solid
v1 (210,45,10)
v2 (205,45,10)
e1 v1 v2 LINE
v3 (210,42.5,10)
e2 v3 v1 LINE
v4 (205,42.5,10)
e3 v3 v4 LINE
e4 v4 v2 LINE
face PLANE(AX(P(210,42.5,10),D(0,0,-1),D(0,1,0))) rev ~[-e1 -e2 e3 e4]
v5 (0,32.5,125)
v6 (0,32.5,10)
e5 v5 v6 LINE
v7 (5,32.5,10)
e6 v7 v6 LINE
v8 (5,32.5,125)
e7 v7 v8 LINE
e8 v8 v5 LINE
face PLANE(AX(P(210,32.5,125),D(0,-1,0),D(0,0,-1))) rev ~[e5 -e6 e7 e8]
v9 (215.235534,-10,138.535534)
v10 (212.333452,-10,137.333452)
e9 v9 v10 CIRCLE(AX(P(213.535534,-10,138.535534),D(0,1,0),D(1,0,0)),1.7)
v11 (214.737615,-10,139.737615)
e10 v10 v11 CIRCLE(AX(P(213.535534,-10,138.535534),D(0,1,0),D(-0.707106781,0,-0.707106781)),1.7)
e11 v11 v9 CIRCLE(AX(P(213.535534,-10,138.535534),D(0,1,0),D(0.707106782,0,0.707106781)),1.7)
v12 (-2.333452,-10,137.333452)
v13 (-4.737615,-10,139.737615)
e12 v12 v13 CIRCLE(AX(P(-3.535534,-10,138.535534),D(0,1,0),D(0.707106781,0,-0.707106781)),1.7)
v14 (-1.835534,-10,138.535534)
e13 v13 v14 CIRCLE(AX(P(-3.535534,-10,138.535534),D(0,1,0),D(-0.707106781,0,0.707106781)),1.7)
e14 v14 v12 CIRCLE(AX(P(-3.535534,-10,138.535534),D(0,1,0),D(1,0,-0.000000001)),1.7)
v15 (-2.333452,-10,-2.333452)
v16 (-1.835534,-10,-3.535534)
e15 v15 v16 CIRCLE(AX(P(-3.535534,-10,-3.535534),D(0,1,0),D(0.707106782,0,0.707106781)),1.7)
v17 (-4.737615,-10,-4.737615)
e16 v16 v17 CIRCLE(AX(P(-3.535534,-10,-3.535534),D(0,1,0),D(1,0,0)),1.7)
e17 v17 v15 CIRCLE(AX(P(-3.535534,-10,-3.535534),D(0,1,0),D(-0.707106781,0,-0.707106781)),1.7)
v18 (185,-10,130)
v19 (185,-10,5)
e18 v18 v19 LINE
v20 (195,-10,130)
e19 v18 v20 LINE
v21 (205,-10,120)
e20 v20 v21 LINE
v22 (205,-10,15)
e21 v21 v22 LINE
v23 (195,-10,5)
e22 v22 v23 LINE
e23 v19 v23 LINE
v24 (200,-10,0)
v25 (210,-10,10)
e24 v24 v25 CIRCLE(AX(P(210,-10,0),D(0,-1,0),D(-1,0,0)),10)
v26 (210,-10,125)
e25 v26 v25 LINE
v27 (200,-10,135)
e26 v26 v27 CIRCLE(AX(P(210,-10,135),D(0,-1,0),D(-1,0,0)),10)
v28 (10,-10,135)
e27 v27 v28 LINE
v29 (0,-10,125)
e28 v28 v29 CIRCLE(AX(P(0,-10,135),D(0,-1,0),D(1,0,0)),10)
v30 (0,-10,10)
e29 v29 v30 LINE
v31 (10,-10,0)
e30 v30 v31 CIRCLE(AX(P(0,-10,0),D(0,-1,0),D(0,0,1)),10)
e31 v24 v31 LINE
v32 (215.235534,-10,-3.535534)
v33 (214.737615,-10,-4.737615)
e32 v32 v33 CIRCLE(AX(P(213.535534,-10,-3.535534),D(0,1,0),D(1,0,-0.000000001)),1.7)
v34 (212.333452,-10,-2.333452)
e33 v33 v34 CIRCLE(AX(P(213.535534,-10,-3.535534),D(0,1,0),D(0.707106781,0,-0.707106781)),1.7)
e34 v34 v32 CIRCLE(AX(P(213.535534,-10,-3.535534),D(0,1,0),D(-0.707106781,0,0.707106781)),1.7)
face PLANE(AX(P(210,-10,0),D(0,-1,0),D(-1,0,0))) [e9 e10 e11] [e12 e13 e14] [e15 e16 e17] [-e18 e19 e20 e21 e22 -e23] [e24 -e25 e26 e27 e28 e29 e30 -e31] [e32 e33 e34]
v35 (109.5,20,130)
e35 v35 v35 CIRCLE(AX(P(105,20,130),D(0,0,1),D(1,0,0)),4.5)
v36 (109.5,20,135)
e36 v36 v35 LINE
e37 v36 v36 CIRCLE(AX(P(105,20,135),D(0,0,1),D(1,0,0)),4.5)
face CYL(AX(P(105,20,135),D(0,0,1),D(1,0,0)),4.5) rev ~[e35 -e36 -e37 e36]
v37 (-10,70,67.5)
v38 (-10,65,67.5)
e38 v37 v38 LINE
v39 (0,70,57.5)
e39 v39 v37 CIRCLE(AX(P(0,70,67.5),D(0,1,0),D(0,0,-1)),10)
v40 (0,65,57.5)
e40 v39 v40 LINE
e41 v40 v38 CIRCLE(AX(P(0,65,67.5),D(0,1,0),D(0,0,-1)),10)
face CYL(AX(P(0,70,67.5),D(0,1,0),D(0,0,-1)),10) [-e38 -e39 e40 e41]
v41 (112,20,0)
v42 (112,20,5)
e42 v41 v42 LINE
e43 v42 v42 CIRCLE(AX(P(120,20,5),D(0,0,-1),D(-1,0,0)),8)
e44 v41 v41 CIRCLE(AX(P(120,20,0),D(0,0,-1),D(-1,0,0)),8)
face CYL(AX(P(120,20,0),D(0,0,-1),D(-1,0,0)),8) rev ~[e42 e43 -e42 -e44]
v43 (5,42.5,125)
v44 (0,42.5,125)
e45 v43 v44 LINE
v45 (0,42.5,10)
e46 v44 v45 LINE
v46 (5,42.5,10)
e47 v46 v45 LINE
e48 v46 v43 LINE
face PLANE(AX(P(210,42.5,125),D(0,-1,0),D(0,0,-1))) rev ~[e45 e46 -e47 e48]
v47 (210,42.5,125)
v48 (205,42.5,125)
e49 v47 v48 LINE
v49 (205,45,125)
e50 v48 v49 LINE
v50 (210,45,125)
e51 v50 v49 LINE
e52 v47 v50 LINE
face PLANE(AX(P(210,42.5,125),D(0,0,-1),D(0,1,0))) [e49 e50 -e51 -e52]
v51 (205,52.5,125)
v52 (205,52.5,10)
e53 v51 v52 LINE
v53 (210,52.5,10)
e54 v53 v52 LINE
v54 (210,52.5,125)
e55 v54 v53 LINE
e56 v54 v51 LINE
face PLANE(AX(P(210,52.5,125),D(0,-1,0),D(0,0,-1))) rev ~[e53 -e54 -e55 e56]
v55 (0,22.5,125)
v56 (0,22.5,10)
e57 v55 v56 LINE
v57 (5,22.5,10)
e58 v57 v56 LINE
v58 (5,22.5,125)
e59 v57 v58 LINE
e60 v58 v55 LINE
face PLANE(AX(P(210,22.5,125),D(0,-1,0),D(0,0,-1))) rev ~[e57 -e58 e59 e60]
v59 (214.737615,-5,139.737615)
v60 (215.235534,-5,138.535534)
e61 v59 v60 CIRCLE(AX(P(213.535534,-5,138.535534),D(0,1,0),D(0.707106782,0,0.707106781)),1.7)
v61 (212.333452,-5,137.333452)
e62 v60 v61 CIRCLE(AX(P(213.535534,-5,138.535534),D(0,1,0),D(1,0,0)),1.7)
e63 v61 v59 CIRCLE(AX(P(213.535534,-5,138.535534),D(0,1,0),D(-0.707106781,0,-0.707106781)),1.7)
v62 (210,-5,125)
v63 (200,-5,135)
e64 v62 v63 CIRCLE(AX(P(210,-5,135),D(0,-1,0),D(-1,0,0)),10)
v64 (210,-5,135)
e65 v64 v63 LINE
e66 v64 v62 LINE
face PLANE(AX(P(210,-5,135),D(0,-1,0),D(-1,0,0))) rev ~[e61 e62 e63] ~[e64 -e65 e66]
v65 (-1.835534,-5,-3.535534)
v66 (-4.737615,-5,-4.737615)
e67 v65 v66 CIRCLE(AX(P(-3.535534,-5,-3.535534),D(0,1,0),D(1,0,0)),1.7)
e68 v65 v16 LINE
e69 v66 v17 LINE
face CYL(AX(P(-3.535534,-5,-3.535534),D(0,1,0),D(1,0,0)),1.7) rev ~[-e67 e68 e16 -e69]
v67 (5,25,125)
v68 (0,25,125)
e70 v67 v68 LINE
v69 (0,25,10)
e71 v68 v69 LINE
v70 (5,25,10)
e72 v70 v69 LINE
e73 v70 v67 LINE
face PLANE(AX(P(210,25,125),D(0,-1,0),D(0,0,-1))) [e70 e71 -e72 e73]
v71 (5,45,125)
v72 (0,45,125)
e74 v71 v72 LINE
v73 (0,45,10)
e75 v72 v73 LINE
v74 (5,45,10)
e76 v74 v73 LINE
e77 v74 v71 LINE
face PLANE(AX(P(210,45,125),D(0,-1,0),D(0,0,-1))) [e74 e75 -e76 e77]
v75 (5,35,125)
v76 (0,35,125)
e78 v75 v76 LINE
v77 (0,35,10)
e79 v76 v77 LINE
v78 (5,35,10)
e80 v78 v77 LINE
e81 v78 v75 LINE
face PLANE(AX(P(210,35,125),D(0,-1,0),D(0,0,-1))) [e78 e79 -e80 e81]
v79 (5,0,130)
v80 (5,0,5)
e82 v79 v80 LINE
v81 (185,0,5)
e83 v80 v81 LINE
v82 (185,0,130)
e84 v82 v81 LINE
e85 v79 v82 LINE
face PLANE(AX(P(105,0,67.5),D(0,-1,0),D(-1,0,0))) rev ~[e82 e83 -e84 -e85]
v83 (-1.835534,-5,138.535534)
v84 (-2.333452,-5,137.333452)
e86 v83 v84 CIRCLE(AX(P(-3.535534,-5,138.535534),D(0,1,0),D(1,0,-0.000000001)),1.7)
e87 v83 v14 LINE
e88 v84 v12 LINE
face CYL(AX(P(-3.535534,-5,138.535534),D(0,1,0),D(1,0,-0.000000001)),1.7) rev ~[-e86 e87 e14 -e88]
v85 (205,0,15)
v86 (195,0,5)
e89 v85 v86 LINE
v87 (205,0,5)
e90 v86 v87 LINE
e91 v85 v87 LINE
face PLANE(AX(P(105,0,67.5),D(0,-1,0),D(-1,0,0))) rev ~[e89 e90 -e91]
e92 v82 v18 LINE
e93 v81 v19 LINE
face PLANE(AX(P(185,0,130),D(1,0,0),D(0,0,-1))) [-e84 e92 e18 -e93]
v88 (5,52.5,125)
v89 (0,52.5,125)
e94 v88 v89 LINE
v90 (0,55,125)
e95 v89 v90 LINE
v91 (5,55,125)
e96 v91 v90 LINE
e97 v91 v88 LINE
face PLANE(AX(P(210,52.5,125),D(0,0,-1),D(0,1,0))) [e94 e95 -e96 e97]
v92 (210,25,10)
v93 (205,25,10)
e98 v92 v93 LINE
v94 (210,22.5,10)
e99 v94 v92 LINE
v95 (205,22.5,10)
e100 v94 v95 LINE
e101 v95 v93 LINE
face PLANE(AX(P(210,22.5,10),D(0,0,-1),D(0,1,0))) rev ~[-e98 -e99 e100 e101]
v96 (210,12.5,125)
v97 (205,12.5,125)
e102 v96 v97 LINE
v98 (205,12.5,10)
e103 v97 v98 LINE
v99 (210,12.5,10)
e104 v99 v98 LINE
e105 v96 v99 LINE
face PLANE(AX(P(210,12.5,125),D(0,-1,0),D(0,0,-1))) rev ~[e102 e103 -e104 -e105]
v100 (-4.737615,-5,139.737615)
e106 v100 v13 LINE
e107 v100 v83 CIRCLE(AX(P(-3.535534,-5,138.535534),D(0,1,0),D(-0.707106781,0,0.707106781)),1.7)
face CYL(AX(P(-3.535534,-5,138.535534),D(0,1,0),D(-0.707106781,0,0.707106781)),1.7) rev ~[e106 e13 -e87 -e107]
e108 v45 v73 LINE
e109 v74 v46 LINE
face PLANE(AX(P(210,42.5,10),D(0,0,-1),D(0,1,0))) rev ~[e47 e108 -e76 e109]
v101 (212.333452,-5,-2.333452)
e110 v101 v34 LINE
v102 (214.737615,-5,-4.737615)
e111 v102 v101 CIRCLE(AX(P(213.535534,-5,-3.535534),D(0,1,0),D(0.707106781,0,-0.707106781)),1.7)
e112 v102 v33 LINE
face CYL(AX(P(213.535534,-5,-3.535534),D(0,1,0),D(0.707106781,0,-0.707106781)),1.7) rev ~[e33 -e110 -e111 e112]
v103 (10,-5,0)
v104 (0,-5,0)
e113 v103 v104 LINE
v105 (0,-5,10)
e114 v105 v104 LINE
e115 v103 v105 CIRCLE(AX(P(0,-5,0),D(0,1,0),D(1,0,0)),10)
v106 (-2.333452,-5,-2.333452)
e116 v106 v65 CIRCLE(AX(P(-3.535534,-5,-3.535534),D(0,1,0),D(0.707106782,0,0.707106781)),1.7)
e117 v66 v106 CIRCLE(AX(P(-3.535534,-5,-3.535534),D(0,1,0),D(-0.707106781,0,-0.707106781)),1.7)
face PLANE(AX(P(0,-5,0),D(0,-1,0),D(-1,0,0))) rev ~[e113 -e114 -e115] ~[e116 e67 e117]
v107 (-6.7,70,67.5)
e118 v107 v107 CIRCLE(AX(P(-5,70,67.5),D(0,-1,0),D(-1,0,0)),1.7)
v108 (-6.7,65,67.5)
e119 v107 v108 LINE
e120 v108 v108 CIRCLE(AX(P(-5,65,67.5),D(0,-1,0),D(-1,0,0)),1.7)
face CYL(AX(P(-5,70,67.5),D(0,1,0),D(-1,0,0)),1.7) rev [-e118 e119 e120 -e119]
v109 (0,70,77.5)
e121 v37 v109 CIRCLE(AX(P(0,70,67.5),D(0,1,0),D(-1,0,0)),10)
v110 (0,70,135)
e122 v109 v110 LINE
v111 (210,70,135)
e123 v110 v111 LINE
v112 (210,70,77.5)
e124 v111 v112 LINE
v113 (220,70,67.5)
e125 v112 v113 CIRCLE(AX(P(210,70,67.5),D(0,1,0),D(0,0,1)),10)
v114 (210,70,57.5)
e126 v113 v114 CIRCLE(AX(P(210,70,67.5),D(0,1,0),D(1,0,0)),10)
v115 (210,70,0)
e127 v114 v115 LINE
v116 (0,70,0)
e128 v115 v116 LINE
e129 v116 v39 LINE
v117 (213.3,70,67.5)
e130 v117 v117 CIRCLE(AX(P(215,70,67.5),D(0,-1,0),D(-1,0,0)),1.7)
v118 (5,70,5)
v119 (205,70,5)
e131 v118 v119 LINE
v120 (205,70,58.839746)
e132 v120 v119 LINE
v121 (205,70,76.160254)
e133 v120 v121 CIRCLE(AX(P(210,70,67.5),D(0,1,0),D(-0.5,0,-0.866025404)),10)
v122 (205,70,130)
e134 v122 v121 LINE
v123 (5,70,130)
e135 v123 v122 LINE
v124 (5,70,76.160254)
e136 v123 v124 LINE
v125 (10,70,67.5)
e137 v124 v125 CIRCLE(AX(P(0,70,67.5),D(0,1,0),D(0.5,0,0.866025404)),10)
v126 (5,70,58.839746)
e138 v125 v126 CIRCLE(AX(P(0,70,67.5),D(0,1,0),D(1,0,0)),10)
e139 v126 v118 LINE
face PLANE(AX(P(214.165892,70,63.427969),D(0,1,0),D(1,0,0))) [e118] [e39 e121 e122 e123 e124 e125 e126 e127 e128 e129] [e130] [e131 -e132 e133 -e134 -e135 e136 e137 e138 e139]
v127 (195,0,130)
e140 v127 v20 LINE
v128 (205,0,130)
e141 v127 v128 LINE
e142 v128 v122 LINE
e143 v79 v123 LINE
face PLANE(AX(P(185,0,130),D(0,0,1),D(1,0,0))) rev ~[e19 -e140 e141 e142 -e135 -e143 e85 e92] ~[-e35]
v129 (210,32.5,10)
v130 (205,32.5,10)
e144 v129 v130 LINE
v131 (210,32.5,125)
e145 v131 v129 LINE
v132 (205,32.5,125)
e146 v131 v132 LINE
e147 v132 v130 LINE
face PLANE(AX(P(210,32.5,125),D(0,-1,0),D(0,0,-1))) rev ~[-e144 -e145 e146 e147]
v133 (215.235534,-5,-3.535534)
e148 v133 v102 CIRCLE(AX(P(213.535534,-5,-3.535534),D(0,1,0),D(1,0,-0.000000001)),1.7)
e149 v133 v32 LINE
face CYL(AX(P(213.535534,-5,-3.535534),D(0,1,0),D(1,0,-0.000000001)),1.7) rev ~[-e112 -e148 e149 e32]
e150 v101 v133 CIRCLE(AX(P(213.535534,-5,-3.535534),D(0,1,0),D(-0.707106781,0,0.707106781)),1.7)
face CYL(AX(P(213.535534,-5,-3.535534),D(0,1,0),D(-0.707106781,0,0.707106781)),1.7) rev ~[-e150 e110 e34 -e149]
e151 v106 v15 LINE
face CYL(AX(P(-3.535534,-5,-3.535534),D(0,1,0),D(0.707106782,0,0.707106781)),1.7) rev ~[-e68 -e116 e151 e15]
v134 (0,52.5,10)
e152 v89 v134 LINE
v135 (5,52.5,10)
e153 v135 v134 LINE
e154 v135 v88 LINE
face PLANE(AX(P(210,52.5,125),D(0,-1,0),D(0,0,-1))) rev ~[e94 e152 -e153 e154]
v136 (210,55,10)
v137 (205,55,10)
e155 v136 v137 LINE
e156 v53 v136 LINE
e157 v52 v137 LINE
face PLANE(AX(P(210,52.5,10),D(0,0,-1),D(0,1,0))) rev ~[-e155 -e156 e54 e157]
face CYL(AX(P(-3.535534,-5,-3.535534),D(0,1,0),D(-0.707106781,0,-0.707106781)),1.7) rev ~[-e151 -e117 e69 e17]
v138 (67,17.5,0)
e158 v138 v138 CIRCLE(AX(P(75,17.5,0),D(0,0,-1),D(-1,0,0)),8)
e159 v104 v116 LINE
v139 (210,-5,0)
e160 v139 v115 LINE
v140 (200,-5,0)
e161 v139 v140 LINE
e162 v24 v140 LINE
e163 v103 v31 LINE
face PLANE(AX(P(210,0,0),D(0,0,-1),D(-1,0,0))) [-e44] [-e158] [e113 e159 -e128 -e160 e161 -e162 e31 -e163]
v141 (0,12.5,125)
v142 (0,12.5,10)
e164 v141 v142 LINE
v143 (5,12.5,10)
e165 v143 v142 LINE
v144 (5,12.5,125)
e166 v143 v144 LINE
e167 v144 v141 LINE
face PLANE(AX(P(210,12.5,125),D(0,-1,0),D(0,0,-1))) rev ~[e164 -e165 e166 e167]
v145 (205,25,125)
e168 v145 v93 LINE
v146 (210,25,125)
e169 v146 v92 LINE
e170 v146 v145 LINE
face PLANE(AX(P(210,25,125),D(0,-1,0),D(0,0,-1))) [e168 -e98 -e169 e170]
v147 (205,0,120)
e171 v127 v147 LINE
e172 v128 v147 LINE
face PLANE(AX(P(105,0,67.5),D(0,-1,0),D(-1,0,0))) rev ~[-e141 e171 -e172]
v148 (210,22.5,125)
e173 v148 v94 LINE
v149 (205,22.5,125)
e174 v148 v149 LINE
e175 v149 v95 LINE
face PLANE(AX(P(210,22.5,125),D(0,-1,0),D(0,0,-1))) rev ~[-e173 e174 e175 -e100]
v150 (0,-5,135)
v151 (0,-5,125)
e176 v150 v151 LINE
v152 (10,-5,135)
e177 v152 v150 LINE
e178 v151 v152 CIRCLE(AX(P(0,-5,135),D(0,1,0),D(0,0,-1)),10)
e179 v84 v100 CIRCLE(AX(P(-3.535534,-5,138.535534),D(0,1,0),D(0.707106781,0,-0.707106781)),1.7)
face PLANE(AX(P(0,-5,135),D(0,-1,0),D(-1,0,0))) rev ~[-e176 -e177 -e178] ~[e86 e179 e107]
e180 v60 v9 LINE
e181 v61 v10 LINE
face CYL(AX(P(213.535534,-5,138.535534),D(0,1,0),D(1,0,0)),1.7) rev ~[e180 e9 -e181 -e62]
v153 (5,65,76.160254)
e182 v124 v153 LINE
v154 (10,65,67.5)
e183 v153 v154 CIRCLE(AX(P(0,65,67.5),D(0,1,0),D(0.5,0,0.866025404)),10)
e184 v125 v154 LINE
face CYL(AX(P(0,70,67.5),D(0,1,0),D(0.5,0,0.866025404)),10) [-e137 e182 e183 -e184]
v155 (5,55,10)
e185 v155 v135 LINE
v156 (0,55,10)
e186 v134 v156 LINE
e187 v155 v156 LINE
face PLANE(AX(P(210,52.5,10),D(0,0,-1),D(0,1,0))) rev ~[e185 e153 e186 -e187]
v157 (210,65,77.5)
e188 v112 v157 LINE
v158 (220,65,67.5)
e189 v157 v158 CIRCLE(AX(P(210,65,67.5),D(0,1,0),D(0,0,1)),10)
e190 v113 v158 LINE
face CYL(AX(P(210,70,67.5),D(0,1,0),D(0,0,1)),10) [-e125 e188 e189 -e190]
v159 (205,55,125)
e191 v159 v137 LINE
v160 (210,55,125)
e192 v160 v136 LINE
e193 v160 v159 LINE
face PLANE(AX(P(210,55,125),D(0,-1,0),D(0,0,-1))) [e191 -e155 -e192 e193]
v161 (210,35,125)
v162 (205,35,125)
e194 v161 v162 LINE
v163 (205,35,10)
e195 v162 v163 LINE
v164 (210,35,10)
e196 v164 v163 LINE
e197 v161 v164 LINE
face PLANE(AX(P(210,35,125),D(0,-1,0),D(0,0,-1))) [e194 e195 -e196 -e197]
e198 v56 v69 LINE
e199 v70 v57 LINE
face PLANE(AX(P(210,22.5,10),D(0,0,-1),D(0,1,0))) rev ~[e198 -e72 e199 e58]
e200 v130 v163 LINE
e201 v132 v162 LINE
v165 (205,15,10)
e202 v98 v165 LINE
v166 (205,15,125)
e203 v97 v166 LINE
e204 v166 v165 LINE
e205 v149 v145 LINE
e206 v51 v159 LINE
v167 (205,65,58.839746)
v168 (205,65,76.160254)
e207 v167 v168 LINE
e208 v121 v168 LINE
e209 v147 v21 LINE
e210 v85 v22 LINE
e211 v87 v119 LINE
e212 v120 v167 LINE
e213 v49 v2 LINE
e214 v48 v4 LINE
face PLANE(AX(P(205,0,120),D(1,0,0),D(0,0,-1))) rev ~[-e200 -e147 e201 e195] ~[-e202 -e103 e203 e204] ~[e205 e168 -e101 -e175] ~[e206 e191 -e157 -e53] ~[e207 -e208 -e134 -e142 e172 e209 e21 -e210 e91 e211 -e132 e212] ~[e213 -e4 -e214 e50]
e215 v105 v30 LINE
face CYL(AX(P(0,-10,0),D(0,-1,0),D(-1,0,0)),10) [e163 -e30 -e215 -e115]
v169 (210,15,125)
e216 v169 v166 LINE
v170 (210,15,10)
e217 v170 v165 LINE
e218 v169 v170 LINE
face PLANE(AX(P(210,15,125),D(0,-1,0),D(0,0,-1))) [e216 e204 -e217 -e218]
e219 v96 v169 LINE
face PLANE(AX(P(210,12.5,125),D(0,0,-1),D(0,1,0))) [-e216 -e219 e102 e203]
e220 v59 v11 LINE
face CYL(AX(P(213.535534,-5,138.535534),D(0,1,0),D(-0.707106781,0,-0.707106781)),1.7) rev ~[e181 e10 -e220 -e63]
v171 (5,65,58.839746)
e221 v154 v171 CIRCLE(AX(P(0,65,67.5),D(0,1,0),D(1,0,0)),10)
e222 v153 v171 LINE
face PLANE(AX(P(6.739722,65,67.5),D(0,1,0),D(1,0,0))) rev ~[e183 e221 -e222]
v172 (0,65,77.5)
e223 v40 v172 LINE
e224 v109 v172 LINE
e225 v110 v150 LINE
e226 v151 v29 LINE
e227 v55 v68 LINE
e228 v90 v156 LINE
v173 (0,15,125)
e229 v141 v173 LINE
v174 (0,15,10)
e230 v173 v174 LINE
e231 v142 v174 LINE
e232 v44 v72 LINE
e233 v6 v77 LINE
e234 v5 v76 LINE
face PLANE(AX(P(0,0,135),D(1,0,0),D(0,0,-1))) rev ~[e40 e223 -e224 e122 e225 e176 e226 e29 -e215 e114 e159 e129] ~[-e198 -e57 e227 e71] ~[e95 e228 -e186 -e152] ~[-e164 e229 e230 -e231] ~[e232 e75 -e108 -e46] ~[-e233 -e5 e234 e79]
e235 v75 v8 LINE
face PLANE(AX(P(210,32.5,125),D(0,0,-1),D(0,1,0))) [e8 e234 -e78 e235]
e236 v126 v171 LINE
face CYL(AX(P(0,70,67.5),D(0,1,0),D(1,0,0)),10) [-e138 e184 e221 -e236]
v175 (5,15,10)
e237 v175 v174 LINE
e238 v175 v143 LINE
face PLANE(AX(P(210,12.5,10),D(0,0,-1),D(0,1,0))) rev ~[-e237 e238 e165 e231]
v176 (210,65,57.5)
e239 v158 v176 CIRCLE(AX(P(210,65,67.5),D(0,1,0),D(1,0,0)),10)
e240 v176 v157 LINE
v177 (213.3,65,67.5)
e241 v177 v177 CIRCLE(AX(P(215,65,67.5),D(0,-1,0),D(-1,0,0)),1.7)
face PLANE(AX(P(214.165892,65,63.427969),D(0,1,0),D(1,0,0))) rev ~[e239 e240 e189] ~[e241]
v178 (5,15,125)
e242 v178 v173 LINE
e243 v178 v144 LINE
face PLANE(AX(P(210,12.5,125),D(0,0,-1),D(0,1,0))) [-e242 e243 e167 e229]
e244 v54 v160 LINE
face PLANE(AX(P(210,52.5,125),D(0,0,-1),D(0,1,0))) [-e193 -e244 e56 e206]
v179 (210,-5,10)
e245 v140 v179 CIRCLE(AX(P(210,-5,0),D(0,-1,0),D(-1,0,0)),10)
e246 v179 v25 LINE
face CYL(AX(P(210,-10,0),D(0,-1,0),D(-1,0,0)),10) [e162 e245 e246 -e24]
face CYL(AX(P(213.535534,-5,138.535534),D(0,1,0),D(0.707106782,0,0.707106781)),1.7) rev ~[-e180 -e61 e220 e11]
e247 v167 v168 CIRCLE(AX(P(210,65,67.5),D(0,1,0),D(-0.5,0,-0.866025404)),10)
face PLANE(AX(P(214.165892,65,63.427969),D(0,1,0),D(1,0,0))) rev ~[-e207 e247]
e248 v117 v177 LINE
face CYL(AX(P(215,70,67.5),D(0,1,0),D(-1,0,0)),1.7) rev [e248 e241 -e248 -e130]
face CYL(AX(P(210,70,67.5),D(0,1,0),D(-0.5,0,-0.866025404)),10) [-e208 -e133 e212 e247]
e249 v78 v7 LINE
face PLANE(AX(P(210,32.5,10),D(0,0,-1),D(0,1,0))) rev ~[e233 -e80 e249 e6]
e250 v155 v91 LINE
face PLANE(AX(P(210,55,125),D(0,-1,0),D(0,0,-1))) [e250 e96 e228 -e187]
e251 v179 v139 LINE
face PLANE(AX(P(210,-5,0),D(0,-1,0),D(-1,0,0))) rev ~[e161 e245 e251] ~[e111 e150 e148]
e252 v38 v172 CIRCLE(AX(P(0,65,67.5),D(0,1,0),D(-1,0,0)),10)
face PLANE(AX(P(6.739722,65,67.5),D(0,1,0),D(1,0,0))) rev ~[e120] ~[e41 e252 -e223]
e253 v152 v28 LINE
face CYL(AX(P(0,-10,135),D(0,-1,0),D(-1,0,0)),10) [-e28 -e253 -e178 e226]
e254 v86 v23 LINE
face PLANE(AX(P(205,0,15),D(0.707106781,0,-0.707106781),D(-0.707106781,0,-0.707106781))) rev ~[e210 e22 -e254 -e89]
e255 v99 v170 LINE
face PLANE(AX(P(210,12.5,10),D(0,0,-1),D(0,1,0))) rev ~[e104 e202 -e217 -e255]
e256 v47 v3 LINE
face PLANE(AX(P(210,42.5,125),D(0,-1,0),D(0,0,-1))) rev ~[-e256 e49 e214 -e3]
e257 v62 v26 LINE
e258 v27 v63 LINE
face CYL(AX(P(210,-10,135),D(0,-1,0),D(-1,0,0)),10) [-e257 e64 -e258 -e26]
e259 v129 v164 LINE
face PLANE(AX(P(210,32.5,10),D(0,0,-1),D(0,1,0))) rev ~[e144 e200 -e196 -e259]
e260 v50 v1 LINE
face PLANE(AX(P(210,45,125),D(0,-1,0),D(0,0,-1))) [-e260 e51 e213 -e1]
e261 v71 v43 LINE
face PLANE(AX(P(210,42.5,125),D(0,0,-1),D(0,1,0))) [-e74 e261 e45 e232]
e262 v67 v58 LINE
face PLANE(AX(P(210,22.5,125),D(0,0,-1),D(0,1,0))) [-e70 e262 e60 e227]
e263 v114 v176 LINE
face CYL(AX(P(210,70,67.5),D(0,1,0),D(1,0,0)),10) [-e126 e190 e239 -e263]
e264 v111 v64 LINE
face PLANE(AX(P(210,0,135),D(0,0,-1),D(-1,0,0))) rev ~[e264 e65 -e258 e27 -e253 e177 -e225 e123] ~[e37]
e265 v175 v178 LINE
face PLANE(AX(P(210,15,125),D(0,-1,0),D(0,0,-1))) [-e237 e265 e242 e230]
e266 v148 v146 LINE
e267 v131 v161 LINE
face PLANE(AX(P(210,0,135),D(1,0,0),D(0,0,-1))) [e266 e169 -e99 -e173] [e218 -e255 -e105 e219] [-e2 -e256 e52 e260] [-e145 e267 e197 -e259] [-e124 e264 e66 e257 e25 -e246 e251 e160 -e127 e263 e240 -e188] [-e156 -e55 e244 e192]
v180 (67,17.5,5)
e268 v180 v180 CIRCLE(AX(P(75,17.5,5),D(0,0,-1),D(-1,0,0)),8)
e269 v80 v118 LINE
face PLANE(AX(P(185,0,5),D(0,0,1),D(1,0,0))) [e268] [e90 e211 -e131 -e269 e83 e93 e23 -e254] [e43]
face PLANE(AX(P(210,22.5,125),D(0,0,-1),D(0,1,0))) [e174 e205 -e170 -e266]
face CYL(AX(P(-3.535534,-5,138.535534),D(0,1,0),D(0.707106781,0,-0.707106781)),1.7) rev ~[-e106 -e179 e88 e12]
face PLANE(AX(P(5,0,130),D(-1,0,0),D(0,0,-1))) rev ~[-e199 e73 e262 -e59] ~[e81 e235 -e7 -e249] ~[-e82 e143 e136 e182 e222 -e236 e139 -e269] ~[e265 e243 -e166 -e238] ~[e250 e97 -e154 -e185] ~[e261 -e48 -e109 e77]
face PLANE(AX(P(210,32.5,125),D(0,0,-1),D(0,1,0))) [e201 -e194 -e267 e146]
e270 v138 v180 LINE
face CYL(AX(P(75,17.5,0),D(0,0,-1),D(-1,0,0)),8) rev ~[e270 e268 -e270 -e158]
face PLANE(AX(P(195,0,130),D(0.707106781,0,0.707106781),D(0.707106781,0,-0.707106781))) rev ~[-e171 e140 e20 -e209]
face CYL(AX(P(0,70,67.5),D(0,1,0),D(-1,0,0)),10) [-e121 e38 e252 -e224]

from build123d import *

# Parameters (mm, degrees)
SKETCH1_W           = 200
SKETCH1_H           = 125
BOSS_EXTRUDE1_DEPTH = 70
SKETCH2_W           = 210
SKETCH2_H           = 135
BOSS_EXTRUDE2_DEPTH = 10
SKETCH3_R           = 10
BOSS_EXTRUDE5_DEPTH = 5
CUT_EXTRUDE2_DEPTH  = 5
CUT_EXTRUDE3_DEPTH  = 10
SKETCH10_W          = 10
SKETCH10_H          = 125
CUT_EXTRUDE4_DEPTH  = 10
BOSS_EXTRUDE6_DEPTH = 5
SKETCH12_R          = 8
CUT_EXTRUDE5_DEPTH  = 10
SKETCH15_R          = 4.5
CUT_EXTRUDE6_DEPTH  = 10
SKETCH18_W          = 115
SKETCH18_H          = 2.5
CUT_EXTRUDE7_DEPTH  = 220


with BuildPart() as part:
    # Sketch1 → Boss-Extrude1 (new body)
    with BuildSketch(Plane(origin=(0, 0, 0), x_dir=(1, 0, 0), z_dir=(0, 1, 0))):
        Polygon((210, 0), (0, 0), (0, -135), (5, -135), (210, -135), align=None)
        with Locations((105, -67.5)):
            Rectangle(SKETCH1_W, SKETCH1_H, mode=Mode.SUBTRACT)
    extrude(amount=BOSS_EXTRUDE1_DEPTH)

    # Sketch2 → Boss-Extrude2 (add)
    with BuildSketch(Plane(origin=(0, 0, 0), x_dir=(-1, 0, 0), z_dir=(0, -1, 0))):
        with Locations((-105, -67.5)):
            Rectangle(SKETCH2_W, SKETCH2_H)
    extrude(amount=BOSS_EXTRUDE2_DEPTH)

    # Sketch3 → Boss-Extrude5 (add)
    with BuildSketch(Plane(origin=(0, -10, 0), x_dir=(-1, 0, 0), z_dir=(0, -1, 0))):
        with Locations((-210, 0)):
            Circle(SKETCH3_R)
        Circle(SKETCH3_R)
        with Locations((0, -135)):
            Circle(SKETCH3_R)
        with Locations((-210, -135)):
            Circle(SKETCH3_R)
    extrude(amount=-BOSS_EXTRUDE5_DEPTH)

    # Sketch7 → Cut-Extrude2 (cut)
    with BuildSketch(Plane(origin=(0, -5, 0), x_dir=(1, 0, 0), z_dir=(0, 1, 0))):
        with BuildLine():
            ThreePointArc((215.235533906, -138.535533906), (214.186095741, -136.964938701), (212.333452378, -137.333452378))
            Line((212.333452378, -137.333452378), (214.737615434, -139.737615434))
            ThreePointArc((214.737615434, -139.737615434), (215.106129111, -139.186095741), (215.235533906, -138.535533906))
        make_face()
        with BuildLine():
            Line((214.737615434, -139.737615434), (212.333452378, -137.333452378))
            ThreePointArc((212.333452378, -137.333452378), (212.333452378, -139.737615434), (214.737615434, -139.737615434))
        make_face()
        with BuildLine():
            ThreePointArc((214.737615434, 4.737615434), (212.333452378, 4.737615434), (212.333452378, 2.333452378))
            Line((212.333452378, 2.333452378), (214.737615434, 4.737615434))
        make_face()
        with BuildLine():
            Line((214.737615434, 4.737615434), (212.333452378, 2.333452378))
            ThreePointArc((212.333452378, 2.333452378), (214.186095741, 1.964938701), (215.235533906, 3.535533906))
            ThreePointArc((215.235533906, 3.535533906), (215.106129111, 4.186095741), (214.737615434, 4.737615434))
        make_face()
        with BuildLine():
            ThreePointArc((-4.737615434, 4.737615434), (-4.737615434, 2.333452378), (-2.333452378, 2.333452378))
            Line((-2.333452378, 2.333452378), (-4.737615434, 4.737615434))
        make_face()
        with BuildLine():
            Line((-4.737615434, 4.737615434), (-2.333452378, 2.333452378))
            ThreePointArc((-2.333452378, 2.333452378), (-1.964938701, 2.884972071), (-1.835533906, 3.535533906))
            ThreePointArc((-1.835533906, 3.535533906), (-2.884972071, 5.106129111), (-4.737615434, 4.737615434))
        make_face()
        with BuildLine():
            ThreePointArc((-1.835533906, -138.535533906), (-1.964938701, -137.884972071), (-2.333452378, -137.333452378))
            Line((-2.333452378, -137.333452378), (-4.737615434, -139.737615434))
            ThreePointArc((-4.737615434, -139.737615434), (-2.884972071, -140.106129111), (-1.835533906, -138.535533906))
        make_face()
        with BuildLine():
            Line((-4.737615434, -139.737615434), (-2.333452378, -137.333452378))
            ThreePointArc((-2.333452378, -137.333452378), (-4.737615434, -137.333452378), (-4.737615434, -139.737615434))
        make_face()
    extrude(amount=-CUT_EXTRUDE2_DEPTH, mode=Mode.SUBTRACT)

    # Sketch9 → Cut-Extrude3 (cut)
    with BuildSketch(Plane(origin=(0, 0, 0), x_dir=(1, 0, 0), z_dir=(0, 1, 0))):
        Polygon((195, -130), (200, -125), (205, -120), (205, -15), (200, -10), (195, -5), align=None)
    extrude(amount=-CUT_EXTRUDE3_DEPTH, mode=Mode.SUBTRACT)

    # Sketch10 → Cut-Extrude4 (cut)
    with BuildSketch(Plane(origin=(0, 0, 0), x_dir=(1, 0, 0), z_dir=(0, 1, 0))):
        with Locations((190, -67.5)):
            Rectangle(SKETCH10_W, SKETCH10_H)
    extrude(amount=-CUT_EXTRUDE4_DEPTH, mode=Mode.SUBTRACT)

    # Sketch11 → Boss-Extrude6 (add)
    with BuildSketch(Plane(origin=(0, 70, 0), x_dir=(1, 0, 0), z_dir=(0, 1, 0))):
        with BuildLine():
            ThreePointArc((213.3, -67.5), (215, -65.8), (216.7, -67.5))
            Line((216.7, -67.5), (220, -67.5))
            ThreePointArc((220, -67.5), (217.071067812, -60.428932188), (210, -57.5))
            Line((210, -57.5), (210, -67.5))
            Line((210, -67.5), (213.3, -67.5))
        make_face()
        with BuildLine():
            Line((220, -67.5), (216.7, -67.5))
            ThreePointArc((216.7, -67.5), (215, -69.2), (213.3, -67.5))
            Line((213.3, -67.5), (210, -67.5))
            Line((210, -67.5), (210, -77.5))
            ThreePointArc((210, -77.5), (217.071067812, -74.571067812), (220, -67.5))
        make_face()
        with BuildLine():
            Line((205, -76.160254038), (205, -58.839745962))
            ThreePointArc((205, -58.839745962), (200, -67.5), (205, -76.160254038))
        make_face()
        with BuildLine():
            Line((210, -67.5), (210, -57.5))
            ThreePointArc((210, -57.5), (207.411809549, -57.840741737), (205, -58.839745962))
            Line((205, -58.839745962), (205, -76.160254038))
            ThreePointArc((205, -76.160254038), (207.411809549, -77.159258263), (210, -77.5))
            Line((210, -77.5), (210, -67.5))
        make_face()
        with BuildLine():
            ThreePointArc((10, -67.5), (8.660254038, -62.5), (5, -58.839745962))
            Line((5, -58.839745962), (5, -76.160254038))
            ThreePointArc((5, -76.160254038), (8.660254038, -72.5), (10, -67.5))
        make_face()
        with BuildLine():
            Line((0, -57.5), (0, -67.5))
            Line((0, -67.5), (0, -77.5))
            ThreePointArc((0, -77.5), (2.588190451, -77.159258263), (5, -76.160254038))
            Line((5, -76.160254038), (5, -58.839745962))
            ThreePointArc((5, -58.839745962), (2.588190451, -57.840741737), (0, -57.5))
        make_face()
        with BuildLine():
            Line((0, -77.5), (0, -67.5))
            Line((0, -67.5), (-3.3, -67.5))
            ThreePointArc((-3.3, -67.5), (-5, -69.2), (-6.7, -67.5))
            Line((-6.7, -67.5), (-10, -67.5))
            ThreePointArc((-10, -67.5), (-7.071067812, -74.571067812), (0, -77.5))
        make_face()
        with BuildLine():
            Line((-3.3, -67.5), (0, -67.5))
            Line((0, -67.5), (0, -57.5))
            ThreePointArc((0, -57.5), (-7.071067812, -60.428932188), (-10, -67.5))
            Line((-10, -67.5), (-6.7, -67.5))
            ThreePointArc((-6.7, -67.5), (-5, -65.8), (-3.3, -67.5))
        make_face()
    extrude(amount=-BOSS_EXTRUDE6_DEPTH)

    # Sketch12 → Cut-Extrude5 (cut)
    with BuildSketch(Plane(origin=(0, 0, 0), x_dir=(-1, 0, 0), z_dir=(0, 0, -1))):
        with Locations((-75, 17.5)):
            Circle(SKETCH12_R)
        with Locations((-120, 20)):
            Circle(SKETCH12_R)
    extrude(amount=-CUT_EXTRUDE5_DEPTH, mode=Mode.SUBTRACT)

    # Sketch15 → Cut-Extrude6 (cut)
    with BuildSketch(Plane.XY.offset(135)):
        with Locations((105, 20)):
            Circle(SKETCH15_R)
    extrude(amount=-CUT_EXTRUDE6_DEPTH, mode=Mode.SUBTRACT)

    # Sketch18 → Cut-Extrude7 (cut)
    with BuildSketch(Plane(origin=(210, 0, 0), x_dir=(0, 0, -1), z_dir=(1, 0, 0))):
        with Locations((-67.5, 43.75)):
            Rectangle(SKETCH18_W, SKETCH18_H)
        with Locations((-67.5, 53.75)):
            Rectangle(SKETCH18_W, SKETCH18_H)
        with Locations((-67.5, 33.75)):
            Rectangle(SKETCH18_W, SKETCH18_H)
        with Locations((-67.5, 23.75)):
            Rectangle(SKETCH18_W, SKETCH18_H)
        with Locations((-67.5, 13.75)):
            Rectangle(SKETCH18_W, SKETCH18_H)
    extrude(amount=-CUT_EXTRUDE7_DEPTH, mode=Mode.SUBTRACT)


solid = part.part
